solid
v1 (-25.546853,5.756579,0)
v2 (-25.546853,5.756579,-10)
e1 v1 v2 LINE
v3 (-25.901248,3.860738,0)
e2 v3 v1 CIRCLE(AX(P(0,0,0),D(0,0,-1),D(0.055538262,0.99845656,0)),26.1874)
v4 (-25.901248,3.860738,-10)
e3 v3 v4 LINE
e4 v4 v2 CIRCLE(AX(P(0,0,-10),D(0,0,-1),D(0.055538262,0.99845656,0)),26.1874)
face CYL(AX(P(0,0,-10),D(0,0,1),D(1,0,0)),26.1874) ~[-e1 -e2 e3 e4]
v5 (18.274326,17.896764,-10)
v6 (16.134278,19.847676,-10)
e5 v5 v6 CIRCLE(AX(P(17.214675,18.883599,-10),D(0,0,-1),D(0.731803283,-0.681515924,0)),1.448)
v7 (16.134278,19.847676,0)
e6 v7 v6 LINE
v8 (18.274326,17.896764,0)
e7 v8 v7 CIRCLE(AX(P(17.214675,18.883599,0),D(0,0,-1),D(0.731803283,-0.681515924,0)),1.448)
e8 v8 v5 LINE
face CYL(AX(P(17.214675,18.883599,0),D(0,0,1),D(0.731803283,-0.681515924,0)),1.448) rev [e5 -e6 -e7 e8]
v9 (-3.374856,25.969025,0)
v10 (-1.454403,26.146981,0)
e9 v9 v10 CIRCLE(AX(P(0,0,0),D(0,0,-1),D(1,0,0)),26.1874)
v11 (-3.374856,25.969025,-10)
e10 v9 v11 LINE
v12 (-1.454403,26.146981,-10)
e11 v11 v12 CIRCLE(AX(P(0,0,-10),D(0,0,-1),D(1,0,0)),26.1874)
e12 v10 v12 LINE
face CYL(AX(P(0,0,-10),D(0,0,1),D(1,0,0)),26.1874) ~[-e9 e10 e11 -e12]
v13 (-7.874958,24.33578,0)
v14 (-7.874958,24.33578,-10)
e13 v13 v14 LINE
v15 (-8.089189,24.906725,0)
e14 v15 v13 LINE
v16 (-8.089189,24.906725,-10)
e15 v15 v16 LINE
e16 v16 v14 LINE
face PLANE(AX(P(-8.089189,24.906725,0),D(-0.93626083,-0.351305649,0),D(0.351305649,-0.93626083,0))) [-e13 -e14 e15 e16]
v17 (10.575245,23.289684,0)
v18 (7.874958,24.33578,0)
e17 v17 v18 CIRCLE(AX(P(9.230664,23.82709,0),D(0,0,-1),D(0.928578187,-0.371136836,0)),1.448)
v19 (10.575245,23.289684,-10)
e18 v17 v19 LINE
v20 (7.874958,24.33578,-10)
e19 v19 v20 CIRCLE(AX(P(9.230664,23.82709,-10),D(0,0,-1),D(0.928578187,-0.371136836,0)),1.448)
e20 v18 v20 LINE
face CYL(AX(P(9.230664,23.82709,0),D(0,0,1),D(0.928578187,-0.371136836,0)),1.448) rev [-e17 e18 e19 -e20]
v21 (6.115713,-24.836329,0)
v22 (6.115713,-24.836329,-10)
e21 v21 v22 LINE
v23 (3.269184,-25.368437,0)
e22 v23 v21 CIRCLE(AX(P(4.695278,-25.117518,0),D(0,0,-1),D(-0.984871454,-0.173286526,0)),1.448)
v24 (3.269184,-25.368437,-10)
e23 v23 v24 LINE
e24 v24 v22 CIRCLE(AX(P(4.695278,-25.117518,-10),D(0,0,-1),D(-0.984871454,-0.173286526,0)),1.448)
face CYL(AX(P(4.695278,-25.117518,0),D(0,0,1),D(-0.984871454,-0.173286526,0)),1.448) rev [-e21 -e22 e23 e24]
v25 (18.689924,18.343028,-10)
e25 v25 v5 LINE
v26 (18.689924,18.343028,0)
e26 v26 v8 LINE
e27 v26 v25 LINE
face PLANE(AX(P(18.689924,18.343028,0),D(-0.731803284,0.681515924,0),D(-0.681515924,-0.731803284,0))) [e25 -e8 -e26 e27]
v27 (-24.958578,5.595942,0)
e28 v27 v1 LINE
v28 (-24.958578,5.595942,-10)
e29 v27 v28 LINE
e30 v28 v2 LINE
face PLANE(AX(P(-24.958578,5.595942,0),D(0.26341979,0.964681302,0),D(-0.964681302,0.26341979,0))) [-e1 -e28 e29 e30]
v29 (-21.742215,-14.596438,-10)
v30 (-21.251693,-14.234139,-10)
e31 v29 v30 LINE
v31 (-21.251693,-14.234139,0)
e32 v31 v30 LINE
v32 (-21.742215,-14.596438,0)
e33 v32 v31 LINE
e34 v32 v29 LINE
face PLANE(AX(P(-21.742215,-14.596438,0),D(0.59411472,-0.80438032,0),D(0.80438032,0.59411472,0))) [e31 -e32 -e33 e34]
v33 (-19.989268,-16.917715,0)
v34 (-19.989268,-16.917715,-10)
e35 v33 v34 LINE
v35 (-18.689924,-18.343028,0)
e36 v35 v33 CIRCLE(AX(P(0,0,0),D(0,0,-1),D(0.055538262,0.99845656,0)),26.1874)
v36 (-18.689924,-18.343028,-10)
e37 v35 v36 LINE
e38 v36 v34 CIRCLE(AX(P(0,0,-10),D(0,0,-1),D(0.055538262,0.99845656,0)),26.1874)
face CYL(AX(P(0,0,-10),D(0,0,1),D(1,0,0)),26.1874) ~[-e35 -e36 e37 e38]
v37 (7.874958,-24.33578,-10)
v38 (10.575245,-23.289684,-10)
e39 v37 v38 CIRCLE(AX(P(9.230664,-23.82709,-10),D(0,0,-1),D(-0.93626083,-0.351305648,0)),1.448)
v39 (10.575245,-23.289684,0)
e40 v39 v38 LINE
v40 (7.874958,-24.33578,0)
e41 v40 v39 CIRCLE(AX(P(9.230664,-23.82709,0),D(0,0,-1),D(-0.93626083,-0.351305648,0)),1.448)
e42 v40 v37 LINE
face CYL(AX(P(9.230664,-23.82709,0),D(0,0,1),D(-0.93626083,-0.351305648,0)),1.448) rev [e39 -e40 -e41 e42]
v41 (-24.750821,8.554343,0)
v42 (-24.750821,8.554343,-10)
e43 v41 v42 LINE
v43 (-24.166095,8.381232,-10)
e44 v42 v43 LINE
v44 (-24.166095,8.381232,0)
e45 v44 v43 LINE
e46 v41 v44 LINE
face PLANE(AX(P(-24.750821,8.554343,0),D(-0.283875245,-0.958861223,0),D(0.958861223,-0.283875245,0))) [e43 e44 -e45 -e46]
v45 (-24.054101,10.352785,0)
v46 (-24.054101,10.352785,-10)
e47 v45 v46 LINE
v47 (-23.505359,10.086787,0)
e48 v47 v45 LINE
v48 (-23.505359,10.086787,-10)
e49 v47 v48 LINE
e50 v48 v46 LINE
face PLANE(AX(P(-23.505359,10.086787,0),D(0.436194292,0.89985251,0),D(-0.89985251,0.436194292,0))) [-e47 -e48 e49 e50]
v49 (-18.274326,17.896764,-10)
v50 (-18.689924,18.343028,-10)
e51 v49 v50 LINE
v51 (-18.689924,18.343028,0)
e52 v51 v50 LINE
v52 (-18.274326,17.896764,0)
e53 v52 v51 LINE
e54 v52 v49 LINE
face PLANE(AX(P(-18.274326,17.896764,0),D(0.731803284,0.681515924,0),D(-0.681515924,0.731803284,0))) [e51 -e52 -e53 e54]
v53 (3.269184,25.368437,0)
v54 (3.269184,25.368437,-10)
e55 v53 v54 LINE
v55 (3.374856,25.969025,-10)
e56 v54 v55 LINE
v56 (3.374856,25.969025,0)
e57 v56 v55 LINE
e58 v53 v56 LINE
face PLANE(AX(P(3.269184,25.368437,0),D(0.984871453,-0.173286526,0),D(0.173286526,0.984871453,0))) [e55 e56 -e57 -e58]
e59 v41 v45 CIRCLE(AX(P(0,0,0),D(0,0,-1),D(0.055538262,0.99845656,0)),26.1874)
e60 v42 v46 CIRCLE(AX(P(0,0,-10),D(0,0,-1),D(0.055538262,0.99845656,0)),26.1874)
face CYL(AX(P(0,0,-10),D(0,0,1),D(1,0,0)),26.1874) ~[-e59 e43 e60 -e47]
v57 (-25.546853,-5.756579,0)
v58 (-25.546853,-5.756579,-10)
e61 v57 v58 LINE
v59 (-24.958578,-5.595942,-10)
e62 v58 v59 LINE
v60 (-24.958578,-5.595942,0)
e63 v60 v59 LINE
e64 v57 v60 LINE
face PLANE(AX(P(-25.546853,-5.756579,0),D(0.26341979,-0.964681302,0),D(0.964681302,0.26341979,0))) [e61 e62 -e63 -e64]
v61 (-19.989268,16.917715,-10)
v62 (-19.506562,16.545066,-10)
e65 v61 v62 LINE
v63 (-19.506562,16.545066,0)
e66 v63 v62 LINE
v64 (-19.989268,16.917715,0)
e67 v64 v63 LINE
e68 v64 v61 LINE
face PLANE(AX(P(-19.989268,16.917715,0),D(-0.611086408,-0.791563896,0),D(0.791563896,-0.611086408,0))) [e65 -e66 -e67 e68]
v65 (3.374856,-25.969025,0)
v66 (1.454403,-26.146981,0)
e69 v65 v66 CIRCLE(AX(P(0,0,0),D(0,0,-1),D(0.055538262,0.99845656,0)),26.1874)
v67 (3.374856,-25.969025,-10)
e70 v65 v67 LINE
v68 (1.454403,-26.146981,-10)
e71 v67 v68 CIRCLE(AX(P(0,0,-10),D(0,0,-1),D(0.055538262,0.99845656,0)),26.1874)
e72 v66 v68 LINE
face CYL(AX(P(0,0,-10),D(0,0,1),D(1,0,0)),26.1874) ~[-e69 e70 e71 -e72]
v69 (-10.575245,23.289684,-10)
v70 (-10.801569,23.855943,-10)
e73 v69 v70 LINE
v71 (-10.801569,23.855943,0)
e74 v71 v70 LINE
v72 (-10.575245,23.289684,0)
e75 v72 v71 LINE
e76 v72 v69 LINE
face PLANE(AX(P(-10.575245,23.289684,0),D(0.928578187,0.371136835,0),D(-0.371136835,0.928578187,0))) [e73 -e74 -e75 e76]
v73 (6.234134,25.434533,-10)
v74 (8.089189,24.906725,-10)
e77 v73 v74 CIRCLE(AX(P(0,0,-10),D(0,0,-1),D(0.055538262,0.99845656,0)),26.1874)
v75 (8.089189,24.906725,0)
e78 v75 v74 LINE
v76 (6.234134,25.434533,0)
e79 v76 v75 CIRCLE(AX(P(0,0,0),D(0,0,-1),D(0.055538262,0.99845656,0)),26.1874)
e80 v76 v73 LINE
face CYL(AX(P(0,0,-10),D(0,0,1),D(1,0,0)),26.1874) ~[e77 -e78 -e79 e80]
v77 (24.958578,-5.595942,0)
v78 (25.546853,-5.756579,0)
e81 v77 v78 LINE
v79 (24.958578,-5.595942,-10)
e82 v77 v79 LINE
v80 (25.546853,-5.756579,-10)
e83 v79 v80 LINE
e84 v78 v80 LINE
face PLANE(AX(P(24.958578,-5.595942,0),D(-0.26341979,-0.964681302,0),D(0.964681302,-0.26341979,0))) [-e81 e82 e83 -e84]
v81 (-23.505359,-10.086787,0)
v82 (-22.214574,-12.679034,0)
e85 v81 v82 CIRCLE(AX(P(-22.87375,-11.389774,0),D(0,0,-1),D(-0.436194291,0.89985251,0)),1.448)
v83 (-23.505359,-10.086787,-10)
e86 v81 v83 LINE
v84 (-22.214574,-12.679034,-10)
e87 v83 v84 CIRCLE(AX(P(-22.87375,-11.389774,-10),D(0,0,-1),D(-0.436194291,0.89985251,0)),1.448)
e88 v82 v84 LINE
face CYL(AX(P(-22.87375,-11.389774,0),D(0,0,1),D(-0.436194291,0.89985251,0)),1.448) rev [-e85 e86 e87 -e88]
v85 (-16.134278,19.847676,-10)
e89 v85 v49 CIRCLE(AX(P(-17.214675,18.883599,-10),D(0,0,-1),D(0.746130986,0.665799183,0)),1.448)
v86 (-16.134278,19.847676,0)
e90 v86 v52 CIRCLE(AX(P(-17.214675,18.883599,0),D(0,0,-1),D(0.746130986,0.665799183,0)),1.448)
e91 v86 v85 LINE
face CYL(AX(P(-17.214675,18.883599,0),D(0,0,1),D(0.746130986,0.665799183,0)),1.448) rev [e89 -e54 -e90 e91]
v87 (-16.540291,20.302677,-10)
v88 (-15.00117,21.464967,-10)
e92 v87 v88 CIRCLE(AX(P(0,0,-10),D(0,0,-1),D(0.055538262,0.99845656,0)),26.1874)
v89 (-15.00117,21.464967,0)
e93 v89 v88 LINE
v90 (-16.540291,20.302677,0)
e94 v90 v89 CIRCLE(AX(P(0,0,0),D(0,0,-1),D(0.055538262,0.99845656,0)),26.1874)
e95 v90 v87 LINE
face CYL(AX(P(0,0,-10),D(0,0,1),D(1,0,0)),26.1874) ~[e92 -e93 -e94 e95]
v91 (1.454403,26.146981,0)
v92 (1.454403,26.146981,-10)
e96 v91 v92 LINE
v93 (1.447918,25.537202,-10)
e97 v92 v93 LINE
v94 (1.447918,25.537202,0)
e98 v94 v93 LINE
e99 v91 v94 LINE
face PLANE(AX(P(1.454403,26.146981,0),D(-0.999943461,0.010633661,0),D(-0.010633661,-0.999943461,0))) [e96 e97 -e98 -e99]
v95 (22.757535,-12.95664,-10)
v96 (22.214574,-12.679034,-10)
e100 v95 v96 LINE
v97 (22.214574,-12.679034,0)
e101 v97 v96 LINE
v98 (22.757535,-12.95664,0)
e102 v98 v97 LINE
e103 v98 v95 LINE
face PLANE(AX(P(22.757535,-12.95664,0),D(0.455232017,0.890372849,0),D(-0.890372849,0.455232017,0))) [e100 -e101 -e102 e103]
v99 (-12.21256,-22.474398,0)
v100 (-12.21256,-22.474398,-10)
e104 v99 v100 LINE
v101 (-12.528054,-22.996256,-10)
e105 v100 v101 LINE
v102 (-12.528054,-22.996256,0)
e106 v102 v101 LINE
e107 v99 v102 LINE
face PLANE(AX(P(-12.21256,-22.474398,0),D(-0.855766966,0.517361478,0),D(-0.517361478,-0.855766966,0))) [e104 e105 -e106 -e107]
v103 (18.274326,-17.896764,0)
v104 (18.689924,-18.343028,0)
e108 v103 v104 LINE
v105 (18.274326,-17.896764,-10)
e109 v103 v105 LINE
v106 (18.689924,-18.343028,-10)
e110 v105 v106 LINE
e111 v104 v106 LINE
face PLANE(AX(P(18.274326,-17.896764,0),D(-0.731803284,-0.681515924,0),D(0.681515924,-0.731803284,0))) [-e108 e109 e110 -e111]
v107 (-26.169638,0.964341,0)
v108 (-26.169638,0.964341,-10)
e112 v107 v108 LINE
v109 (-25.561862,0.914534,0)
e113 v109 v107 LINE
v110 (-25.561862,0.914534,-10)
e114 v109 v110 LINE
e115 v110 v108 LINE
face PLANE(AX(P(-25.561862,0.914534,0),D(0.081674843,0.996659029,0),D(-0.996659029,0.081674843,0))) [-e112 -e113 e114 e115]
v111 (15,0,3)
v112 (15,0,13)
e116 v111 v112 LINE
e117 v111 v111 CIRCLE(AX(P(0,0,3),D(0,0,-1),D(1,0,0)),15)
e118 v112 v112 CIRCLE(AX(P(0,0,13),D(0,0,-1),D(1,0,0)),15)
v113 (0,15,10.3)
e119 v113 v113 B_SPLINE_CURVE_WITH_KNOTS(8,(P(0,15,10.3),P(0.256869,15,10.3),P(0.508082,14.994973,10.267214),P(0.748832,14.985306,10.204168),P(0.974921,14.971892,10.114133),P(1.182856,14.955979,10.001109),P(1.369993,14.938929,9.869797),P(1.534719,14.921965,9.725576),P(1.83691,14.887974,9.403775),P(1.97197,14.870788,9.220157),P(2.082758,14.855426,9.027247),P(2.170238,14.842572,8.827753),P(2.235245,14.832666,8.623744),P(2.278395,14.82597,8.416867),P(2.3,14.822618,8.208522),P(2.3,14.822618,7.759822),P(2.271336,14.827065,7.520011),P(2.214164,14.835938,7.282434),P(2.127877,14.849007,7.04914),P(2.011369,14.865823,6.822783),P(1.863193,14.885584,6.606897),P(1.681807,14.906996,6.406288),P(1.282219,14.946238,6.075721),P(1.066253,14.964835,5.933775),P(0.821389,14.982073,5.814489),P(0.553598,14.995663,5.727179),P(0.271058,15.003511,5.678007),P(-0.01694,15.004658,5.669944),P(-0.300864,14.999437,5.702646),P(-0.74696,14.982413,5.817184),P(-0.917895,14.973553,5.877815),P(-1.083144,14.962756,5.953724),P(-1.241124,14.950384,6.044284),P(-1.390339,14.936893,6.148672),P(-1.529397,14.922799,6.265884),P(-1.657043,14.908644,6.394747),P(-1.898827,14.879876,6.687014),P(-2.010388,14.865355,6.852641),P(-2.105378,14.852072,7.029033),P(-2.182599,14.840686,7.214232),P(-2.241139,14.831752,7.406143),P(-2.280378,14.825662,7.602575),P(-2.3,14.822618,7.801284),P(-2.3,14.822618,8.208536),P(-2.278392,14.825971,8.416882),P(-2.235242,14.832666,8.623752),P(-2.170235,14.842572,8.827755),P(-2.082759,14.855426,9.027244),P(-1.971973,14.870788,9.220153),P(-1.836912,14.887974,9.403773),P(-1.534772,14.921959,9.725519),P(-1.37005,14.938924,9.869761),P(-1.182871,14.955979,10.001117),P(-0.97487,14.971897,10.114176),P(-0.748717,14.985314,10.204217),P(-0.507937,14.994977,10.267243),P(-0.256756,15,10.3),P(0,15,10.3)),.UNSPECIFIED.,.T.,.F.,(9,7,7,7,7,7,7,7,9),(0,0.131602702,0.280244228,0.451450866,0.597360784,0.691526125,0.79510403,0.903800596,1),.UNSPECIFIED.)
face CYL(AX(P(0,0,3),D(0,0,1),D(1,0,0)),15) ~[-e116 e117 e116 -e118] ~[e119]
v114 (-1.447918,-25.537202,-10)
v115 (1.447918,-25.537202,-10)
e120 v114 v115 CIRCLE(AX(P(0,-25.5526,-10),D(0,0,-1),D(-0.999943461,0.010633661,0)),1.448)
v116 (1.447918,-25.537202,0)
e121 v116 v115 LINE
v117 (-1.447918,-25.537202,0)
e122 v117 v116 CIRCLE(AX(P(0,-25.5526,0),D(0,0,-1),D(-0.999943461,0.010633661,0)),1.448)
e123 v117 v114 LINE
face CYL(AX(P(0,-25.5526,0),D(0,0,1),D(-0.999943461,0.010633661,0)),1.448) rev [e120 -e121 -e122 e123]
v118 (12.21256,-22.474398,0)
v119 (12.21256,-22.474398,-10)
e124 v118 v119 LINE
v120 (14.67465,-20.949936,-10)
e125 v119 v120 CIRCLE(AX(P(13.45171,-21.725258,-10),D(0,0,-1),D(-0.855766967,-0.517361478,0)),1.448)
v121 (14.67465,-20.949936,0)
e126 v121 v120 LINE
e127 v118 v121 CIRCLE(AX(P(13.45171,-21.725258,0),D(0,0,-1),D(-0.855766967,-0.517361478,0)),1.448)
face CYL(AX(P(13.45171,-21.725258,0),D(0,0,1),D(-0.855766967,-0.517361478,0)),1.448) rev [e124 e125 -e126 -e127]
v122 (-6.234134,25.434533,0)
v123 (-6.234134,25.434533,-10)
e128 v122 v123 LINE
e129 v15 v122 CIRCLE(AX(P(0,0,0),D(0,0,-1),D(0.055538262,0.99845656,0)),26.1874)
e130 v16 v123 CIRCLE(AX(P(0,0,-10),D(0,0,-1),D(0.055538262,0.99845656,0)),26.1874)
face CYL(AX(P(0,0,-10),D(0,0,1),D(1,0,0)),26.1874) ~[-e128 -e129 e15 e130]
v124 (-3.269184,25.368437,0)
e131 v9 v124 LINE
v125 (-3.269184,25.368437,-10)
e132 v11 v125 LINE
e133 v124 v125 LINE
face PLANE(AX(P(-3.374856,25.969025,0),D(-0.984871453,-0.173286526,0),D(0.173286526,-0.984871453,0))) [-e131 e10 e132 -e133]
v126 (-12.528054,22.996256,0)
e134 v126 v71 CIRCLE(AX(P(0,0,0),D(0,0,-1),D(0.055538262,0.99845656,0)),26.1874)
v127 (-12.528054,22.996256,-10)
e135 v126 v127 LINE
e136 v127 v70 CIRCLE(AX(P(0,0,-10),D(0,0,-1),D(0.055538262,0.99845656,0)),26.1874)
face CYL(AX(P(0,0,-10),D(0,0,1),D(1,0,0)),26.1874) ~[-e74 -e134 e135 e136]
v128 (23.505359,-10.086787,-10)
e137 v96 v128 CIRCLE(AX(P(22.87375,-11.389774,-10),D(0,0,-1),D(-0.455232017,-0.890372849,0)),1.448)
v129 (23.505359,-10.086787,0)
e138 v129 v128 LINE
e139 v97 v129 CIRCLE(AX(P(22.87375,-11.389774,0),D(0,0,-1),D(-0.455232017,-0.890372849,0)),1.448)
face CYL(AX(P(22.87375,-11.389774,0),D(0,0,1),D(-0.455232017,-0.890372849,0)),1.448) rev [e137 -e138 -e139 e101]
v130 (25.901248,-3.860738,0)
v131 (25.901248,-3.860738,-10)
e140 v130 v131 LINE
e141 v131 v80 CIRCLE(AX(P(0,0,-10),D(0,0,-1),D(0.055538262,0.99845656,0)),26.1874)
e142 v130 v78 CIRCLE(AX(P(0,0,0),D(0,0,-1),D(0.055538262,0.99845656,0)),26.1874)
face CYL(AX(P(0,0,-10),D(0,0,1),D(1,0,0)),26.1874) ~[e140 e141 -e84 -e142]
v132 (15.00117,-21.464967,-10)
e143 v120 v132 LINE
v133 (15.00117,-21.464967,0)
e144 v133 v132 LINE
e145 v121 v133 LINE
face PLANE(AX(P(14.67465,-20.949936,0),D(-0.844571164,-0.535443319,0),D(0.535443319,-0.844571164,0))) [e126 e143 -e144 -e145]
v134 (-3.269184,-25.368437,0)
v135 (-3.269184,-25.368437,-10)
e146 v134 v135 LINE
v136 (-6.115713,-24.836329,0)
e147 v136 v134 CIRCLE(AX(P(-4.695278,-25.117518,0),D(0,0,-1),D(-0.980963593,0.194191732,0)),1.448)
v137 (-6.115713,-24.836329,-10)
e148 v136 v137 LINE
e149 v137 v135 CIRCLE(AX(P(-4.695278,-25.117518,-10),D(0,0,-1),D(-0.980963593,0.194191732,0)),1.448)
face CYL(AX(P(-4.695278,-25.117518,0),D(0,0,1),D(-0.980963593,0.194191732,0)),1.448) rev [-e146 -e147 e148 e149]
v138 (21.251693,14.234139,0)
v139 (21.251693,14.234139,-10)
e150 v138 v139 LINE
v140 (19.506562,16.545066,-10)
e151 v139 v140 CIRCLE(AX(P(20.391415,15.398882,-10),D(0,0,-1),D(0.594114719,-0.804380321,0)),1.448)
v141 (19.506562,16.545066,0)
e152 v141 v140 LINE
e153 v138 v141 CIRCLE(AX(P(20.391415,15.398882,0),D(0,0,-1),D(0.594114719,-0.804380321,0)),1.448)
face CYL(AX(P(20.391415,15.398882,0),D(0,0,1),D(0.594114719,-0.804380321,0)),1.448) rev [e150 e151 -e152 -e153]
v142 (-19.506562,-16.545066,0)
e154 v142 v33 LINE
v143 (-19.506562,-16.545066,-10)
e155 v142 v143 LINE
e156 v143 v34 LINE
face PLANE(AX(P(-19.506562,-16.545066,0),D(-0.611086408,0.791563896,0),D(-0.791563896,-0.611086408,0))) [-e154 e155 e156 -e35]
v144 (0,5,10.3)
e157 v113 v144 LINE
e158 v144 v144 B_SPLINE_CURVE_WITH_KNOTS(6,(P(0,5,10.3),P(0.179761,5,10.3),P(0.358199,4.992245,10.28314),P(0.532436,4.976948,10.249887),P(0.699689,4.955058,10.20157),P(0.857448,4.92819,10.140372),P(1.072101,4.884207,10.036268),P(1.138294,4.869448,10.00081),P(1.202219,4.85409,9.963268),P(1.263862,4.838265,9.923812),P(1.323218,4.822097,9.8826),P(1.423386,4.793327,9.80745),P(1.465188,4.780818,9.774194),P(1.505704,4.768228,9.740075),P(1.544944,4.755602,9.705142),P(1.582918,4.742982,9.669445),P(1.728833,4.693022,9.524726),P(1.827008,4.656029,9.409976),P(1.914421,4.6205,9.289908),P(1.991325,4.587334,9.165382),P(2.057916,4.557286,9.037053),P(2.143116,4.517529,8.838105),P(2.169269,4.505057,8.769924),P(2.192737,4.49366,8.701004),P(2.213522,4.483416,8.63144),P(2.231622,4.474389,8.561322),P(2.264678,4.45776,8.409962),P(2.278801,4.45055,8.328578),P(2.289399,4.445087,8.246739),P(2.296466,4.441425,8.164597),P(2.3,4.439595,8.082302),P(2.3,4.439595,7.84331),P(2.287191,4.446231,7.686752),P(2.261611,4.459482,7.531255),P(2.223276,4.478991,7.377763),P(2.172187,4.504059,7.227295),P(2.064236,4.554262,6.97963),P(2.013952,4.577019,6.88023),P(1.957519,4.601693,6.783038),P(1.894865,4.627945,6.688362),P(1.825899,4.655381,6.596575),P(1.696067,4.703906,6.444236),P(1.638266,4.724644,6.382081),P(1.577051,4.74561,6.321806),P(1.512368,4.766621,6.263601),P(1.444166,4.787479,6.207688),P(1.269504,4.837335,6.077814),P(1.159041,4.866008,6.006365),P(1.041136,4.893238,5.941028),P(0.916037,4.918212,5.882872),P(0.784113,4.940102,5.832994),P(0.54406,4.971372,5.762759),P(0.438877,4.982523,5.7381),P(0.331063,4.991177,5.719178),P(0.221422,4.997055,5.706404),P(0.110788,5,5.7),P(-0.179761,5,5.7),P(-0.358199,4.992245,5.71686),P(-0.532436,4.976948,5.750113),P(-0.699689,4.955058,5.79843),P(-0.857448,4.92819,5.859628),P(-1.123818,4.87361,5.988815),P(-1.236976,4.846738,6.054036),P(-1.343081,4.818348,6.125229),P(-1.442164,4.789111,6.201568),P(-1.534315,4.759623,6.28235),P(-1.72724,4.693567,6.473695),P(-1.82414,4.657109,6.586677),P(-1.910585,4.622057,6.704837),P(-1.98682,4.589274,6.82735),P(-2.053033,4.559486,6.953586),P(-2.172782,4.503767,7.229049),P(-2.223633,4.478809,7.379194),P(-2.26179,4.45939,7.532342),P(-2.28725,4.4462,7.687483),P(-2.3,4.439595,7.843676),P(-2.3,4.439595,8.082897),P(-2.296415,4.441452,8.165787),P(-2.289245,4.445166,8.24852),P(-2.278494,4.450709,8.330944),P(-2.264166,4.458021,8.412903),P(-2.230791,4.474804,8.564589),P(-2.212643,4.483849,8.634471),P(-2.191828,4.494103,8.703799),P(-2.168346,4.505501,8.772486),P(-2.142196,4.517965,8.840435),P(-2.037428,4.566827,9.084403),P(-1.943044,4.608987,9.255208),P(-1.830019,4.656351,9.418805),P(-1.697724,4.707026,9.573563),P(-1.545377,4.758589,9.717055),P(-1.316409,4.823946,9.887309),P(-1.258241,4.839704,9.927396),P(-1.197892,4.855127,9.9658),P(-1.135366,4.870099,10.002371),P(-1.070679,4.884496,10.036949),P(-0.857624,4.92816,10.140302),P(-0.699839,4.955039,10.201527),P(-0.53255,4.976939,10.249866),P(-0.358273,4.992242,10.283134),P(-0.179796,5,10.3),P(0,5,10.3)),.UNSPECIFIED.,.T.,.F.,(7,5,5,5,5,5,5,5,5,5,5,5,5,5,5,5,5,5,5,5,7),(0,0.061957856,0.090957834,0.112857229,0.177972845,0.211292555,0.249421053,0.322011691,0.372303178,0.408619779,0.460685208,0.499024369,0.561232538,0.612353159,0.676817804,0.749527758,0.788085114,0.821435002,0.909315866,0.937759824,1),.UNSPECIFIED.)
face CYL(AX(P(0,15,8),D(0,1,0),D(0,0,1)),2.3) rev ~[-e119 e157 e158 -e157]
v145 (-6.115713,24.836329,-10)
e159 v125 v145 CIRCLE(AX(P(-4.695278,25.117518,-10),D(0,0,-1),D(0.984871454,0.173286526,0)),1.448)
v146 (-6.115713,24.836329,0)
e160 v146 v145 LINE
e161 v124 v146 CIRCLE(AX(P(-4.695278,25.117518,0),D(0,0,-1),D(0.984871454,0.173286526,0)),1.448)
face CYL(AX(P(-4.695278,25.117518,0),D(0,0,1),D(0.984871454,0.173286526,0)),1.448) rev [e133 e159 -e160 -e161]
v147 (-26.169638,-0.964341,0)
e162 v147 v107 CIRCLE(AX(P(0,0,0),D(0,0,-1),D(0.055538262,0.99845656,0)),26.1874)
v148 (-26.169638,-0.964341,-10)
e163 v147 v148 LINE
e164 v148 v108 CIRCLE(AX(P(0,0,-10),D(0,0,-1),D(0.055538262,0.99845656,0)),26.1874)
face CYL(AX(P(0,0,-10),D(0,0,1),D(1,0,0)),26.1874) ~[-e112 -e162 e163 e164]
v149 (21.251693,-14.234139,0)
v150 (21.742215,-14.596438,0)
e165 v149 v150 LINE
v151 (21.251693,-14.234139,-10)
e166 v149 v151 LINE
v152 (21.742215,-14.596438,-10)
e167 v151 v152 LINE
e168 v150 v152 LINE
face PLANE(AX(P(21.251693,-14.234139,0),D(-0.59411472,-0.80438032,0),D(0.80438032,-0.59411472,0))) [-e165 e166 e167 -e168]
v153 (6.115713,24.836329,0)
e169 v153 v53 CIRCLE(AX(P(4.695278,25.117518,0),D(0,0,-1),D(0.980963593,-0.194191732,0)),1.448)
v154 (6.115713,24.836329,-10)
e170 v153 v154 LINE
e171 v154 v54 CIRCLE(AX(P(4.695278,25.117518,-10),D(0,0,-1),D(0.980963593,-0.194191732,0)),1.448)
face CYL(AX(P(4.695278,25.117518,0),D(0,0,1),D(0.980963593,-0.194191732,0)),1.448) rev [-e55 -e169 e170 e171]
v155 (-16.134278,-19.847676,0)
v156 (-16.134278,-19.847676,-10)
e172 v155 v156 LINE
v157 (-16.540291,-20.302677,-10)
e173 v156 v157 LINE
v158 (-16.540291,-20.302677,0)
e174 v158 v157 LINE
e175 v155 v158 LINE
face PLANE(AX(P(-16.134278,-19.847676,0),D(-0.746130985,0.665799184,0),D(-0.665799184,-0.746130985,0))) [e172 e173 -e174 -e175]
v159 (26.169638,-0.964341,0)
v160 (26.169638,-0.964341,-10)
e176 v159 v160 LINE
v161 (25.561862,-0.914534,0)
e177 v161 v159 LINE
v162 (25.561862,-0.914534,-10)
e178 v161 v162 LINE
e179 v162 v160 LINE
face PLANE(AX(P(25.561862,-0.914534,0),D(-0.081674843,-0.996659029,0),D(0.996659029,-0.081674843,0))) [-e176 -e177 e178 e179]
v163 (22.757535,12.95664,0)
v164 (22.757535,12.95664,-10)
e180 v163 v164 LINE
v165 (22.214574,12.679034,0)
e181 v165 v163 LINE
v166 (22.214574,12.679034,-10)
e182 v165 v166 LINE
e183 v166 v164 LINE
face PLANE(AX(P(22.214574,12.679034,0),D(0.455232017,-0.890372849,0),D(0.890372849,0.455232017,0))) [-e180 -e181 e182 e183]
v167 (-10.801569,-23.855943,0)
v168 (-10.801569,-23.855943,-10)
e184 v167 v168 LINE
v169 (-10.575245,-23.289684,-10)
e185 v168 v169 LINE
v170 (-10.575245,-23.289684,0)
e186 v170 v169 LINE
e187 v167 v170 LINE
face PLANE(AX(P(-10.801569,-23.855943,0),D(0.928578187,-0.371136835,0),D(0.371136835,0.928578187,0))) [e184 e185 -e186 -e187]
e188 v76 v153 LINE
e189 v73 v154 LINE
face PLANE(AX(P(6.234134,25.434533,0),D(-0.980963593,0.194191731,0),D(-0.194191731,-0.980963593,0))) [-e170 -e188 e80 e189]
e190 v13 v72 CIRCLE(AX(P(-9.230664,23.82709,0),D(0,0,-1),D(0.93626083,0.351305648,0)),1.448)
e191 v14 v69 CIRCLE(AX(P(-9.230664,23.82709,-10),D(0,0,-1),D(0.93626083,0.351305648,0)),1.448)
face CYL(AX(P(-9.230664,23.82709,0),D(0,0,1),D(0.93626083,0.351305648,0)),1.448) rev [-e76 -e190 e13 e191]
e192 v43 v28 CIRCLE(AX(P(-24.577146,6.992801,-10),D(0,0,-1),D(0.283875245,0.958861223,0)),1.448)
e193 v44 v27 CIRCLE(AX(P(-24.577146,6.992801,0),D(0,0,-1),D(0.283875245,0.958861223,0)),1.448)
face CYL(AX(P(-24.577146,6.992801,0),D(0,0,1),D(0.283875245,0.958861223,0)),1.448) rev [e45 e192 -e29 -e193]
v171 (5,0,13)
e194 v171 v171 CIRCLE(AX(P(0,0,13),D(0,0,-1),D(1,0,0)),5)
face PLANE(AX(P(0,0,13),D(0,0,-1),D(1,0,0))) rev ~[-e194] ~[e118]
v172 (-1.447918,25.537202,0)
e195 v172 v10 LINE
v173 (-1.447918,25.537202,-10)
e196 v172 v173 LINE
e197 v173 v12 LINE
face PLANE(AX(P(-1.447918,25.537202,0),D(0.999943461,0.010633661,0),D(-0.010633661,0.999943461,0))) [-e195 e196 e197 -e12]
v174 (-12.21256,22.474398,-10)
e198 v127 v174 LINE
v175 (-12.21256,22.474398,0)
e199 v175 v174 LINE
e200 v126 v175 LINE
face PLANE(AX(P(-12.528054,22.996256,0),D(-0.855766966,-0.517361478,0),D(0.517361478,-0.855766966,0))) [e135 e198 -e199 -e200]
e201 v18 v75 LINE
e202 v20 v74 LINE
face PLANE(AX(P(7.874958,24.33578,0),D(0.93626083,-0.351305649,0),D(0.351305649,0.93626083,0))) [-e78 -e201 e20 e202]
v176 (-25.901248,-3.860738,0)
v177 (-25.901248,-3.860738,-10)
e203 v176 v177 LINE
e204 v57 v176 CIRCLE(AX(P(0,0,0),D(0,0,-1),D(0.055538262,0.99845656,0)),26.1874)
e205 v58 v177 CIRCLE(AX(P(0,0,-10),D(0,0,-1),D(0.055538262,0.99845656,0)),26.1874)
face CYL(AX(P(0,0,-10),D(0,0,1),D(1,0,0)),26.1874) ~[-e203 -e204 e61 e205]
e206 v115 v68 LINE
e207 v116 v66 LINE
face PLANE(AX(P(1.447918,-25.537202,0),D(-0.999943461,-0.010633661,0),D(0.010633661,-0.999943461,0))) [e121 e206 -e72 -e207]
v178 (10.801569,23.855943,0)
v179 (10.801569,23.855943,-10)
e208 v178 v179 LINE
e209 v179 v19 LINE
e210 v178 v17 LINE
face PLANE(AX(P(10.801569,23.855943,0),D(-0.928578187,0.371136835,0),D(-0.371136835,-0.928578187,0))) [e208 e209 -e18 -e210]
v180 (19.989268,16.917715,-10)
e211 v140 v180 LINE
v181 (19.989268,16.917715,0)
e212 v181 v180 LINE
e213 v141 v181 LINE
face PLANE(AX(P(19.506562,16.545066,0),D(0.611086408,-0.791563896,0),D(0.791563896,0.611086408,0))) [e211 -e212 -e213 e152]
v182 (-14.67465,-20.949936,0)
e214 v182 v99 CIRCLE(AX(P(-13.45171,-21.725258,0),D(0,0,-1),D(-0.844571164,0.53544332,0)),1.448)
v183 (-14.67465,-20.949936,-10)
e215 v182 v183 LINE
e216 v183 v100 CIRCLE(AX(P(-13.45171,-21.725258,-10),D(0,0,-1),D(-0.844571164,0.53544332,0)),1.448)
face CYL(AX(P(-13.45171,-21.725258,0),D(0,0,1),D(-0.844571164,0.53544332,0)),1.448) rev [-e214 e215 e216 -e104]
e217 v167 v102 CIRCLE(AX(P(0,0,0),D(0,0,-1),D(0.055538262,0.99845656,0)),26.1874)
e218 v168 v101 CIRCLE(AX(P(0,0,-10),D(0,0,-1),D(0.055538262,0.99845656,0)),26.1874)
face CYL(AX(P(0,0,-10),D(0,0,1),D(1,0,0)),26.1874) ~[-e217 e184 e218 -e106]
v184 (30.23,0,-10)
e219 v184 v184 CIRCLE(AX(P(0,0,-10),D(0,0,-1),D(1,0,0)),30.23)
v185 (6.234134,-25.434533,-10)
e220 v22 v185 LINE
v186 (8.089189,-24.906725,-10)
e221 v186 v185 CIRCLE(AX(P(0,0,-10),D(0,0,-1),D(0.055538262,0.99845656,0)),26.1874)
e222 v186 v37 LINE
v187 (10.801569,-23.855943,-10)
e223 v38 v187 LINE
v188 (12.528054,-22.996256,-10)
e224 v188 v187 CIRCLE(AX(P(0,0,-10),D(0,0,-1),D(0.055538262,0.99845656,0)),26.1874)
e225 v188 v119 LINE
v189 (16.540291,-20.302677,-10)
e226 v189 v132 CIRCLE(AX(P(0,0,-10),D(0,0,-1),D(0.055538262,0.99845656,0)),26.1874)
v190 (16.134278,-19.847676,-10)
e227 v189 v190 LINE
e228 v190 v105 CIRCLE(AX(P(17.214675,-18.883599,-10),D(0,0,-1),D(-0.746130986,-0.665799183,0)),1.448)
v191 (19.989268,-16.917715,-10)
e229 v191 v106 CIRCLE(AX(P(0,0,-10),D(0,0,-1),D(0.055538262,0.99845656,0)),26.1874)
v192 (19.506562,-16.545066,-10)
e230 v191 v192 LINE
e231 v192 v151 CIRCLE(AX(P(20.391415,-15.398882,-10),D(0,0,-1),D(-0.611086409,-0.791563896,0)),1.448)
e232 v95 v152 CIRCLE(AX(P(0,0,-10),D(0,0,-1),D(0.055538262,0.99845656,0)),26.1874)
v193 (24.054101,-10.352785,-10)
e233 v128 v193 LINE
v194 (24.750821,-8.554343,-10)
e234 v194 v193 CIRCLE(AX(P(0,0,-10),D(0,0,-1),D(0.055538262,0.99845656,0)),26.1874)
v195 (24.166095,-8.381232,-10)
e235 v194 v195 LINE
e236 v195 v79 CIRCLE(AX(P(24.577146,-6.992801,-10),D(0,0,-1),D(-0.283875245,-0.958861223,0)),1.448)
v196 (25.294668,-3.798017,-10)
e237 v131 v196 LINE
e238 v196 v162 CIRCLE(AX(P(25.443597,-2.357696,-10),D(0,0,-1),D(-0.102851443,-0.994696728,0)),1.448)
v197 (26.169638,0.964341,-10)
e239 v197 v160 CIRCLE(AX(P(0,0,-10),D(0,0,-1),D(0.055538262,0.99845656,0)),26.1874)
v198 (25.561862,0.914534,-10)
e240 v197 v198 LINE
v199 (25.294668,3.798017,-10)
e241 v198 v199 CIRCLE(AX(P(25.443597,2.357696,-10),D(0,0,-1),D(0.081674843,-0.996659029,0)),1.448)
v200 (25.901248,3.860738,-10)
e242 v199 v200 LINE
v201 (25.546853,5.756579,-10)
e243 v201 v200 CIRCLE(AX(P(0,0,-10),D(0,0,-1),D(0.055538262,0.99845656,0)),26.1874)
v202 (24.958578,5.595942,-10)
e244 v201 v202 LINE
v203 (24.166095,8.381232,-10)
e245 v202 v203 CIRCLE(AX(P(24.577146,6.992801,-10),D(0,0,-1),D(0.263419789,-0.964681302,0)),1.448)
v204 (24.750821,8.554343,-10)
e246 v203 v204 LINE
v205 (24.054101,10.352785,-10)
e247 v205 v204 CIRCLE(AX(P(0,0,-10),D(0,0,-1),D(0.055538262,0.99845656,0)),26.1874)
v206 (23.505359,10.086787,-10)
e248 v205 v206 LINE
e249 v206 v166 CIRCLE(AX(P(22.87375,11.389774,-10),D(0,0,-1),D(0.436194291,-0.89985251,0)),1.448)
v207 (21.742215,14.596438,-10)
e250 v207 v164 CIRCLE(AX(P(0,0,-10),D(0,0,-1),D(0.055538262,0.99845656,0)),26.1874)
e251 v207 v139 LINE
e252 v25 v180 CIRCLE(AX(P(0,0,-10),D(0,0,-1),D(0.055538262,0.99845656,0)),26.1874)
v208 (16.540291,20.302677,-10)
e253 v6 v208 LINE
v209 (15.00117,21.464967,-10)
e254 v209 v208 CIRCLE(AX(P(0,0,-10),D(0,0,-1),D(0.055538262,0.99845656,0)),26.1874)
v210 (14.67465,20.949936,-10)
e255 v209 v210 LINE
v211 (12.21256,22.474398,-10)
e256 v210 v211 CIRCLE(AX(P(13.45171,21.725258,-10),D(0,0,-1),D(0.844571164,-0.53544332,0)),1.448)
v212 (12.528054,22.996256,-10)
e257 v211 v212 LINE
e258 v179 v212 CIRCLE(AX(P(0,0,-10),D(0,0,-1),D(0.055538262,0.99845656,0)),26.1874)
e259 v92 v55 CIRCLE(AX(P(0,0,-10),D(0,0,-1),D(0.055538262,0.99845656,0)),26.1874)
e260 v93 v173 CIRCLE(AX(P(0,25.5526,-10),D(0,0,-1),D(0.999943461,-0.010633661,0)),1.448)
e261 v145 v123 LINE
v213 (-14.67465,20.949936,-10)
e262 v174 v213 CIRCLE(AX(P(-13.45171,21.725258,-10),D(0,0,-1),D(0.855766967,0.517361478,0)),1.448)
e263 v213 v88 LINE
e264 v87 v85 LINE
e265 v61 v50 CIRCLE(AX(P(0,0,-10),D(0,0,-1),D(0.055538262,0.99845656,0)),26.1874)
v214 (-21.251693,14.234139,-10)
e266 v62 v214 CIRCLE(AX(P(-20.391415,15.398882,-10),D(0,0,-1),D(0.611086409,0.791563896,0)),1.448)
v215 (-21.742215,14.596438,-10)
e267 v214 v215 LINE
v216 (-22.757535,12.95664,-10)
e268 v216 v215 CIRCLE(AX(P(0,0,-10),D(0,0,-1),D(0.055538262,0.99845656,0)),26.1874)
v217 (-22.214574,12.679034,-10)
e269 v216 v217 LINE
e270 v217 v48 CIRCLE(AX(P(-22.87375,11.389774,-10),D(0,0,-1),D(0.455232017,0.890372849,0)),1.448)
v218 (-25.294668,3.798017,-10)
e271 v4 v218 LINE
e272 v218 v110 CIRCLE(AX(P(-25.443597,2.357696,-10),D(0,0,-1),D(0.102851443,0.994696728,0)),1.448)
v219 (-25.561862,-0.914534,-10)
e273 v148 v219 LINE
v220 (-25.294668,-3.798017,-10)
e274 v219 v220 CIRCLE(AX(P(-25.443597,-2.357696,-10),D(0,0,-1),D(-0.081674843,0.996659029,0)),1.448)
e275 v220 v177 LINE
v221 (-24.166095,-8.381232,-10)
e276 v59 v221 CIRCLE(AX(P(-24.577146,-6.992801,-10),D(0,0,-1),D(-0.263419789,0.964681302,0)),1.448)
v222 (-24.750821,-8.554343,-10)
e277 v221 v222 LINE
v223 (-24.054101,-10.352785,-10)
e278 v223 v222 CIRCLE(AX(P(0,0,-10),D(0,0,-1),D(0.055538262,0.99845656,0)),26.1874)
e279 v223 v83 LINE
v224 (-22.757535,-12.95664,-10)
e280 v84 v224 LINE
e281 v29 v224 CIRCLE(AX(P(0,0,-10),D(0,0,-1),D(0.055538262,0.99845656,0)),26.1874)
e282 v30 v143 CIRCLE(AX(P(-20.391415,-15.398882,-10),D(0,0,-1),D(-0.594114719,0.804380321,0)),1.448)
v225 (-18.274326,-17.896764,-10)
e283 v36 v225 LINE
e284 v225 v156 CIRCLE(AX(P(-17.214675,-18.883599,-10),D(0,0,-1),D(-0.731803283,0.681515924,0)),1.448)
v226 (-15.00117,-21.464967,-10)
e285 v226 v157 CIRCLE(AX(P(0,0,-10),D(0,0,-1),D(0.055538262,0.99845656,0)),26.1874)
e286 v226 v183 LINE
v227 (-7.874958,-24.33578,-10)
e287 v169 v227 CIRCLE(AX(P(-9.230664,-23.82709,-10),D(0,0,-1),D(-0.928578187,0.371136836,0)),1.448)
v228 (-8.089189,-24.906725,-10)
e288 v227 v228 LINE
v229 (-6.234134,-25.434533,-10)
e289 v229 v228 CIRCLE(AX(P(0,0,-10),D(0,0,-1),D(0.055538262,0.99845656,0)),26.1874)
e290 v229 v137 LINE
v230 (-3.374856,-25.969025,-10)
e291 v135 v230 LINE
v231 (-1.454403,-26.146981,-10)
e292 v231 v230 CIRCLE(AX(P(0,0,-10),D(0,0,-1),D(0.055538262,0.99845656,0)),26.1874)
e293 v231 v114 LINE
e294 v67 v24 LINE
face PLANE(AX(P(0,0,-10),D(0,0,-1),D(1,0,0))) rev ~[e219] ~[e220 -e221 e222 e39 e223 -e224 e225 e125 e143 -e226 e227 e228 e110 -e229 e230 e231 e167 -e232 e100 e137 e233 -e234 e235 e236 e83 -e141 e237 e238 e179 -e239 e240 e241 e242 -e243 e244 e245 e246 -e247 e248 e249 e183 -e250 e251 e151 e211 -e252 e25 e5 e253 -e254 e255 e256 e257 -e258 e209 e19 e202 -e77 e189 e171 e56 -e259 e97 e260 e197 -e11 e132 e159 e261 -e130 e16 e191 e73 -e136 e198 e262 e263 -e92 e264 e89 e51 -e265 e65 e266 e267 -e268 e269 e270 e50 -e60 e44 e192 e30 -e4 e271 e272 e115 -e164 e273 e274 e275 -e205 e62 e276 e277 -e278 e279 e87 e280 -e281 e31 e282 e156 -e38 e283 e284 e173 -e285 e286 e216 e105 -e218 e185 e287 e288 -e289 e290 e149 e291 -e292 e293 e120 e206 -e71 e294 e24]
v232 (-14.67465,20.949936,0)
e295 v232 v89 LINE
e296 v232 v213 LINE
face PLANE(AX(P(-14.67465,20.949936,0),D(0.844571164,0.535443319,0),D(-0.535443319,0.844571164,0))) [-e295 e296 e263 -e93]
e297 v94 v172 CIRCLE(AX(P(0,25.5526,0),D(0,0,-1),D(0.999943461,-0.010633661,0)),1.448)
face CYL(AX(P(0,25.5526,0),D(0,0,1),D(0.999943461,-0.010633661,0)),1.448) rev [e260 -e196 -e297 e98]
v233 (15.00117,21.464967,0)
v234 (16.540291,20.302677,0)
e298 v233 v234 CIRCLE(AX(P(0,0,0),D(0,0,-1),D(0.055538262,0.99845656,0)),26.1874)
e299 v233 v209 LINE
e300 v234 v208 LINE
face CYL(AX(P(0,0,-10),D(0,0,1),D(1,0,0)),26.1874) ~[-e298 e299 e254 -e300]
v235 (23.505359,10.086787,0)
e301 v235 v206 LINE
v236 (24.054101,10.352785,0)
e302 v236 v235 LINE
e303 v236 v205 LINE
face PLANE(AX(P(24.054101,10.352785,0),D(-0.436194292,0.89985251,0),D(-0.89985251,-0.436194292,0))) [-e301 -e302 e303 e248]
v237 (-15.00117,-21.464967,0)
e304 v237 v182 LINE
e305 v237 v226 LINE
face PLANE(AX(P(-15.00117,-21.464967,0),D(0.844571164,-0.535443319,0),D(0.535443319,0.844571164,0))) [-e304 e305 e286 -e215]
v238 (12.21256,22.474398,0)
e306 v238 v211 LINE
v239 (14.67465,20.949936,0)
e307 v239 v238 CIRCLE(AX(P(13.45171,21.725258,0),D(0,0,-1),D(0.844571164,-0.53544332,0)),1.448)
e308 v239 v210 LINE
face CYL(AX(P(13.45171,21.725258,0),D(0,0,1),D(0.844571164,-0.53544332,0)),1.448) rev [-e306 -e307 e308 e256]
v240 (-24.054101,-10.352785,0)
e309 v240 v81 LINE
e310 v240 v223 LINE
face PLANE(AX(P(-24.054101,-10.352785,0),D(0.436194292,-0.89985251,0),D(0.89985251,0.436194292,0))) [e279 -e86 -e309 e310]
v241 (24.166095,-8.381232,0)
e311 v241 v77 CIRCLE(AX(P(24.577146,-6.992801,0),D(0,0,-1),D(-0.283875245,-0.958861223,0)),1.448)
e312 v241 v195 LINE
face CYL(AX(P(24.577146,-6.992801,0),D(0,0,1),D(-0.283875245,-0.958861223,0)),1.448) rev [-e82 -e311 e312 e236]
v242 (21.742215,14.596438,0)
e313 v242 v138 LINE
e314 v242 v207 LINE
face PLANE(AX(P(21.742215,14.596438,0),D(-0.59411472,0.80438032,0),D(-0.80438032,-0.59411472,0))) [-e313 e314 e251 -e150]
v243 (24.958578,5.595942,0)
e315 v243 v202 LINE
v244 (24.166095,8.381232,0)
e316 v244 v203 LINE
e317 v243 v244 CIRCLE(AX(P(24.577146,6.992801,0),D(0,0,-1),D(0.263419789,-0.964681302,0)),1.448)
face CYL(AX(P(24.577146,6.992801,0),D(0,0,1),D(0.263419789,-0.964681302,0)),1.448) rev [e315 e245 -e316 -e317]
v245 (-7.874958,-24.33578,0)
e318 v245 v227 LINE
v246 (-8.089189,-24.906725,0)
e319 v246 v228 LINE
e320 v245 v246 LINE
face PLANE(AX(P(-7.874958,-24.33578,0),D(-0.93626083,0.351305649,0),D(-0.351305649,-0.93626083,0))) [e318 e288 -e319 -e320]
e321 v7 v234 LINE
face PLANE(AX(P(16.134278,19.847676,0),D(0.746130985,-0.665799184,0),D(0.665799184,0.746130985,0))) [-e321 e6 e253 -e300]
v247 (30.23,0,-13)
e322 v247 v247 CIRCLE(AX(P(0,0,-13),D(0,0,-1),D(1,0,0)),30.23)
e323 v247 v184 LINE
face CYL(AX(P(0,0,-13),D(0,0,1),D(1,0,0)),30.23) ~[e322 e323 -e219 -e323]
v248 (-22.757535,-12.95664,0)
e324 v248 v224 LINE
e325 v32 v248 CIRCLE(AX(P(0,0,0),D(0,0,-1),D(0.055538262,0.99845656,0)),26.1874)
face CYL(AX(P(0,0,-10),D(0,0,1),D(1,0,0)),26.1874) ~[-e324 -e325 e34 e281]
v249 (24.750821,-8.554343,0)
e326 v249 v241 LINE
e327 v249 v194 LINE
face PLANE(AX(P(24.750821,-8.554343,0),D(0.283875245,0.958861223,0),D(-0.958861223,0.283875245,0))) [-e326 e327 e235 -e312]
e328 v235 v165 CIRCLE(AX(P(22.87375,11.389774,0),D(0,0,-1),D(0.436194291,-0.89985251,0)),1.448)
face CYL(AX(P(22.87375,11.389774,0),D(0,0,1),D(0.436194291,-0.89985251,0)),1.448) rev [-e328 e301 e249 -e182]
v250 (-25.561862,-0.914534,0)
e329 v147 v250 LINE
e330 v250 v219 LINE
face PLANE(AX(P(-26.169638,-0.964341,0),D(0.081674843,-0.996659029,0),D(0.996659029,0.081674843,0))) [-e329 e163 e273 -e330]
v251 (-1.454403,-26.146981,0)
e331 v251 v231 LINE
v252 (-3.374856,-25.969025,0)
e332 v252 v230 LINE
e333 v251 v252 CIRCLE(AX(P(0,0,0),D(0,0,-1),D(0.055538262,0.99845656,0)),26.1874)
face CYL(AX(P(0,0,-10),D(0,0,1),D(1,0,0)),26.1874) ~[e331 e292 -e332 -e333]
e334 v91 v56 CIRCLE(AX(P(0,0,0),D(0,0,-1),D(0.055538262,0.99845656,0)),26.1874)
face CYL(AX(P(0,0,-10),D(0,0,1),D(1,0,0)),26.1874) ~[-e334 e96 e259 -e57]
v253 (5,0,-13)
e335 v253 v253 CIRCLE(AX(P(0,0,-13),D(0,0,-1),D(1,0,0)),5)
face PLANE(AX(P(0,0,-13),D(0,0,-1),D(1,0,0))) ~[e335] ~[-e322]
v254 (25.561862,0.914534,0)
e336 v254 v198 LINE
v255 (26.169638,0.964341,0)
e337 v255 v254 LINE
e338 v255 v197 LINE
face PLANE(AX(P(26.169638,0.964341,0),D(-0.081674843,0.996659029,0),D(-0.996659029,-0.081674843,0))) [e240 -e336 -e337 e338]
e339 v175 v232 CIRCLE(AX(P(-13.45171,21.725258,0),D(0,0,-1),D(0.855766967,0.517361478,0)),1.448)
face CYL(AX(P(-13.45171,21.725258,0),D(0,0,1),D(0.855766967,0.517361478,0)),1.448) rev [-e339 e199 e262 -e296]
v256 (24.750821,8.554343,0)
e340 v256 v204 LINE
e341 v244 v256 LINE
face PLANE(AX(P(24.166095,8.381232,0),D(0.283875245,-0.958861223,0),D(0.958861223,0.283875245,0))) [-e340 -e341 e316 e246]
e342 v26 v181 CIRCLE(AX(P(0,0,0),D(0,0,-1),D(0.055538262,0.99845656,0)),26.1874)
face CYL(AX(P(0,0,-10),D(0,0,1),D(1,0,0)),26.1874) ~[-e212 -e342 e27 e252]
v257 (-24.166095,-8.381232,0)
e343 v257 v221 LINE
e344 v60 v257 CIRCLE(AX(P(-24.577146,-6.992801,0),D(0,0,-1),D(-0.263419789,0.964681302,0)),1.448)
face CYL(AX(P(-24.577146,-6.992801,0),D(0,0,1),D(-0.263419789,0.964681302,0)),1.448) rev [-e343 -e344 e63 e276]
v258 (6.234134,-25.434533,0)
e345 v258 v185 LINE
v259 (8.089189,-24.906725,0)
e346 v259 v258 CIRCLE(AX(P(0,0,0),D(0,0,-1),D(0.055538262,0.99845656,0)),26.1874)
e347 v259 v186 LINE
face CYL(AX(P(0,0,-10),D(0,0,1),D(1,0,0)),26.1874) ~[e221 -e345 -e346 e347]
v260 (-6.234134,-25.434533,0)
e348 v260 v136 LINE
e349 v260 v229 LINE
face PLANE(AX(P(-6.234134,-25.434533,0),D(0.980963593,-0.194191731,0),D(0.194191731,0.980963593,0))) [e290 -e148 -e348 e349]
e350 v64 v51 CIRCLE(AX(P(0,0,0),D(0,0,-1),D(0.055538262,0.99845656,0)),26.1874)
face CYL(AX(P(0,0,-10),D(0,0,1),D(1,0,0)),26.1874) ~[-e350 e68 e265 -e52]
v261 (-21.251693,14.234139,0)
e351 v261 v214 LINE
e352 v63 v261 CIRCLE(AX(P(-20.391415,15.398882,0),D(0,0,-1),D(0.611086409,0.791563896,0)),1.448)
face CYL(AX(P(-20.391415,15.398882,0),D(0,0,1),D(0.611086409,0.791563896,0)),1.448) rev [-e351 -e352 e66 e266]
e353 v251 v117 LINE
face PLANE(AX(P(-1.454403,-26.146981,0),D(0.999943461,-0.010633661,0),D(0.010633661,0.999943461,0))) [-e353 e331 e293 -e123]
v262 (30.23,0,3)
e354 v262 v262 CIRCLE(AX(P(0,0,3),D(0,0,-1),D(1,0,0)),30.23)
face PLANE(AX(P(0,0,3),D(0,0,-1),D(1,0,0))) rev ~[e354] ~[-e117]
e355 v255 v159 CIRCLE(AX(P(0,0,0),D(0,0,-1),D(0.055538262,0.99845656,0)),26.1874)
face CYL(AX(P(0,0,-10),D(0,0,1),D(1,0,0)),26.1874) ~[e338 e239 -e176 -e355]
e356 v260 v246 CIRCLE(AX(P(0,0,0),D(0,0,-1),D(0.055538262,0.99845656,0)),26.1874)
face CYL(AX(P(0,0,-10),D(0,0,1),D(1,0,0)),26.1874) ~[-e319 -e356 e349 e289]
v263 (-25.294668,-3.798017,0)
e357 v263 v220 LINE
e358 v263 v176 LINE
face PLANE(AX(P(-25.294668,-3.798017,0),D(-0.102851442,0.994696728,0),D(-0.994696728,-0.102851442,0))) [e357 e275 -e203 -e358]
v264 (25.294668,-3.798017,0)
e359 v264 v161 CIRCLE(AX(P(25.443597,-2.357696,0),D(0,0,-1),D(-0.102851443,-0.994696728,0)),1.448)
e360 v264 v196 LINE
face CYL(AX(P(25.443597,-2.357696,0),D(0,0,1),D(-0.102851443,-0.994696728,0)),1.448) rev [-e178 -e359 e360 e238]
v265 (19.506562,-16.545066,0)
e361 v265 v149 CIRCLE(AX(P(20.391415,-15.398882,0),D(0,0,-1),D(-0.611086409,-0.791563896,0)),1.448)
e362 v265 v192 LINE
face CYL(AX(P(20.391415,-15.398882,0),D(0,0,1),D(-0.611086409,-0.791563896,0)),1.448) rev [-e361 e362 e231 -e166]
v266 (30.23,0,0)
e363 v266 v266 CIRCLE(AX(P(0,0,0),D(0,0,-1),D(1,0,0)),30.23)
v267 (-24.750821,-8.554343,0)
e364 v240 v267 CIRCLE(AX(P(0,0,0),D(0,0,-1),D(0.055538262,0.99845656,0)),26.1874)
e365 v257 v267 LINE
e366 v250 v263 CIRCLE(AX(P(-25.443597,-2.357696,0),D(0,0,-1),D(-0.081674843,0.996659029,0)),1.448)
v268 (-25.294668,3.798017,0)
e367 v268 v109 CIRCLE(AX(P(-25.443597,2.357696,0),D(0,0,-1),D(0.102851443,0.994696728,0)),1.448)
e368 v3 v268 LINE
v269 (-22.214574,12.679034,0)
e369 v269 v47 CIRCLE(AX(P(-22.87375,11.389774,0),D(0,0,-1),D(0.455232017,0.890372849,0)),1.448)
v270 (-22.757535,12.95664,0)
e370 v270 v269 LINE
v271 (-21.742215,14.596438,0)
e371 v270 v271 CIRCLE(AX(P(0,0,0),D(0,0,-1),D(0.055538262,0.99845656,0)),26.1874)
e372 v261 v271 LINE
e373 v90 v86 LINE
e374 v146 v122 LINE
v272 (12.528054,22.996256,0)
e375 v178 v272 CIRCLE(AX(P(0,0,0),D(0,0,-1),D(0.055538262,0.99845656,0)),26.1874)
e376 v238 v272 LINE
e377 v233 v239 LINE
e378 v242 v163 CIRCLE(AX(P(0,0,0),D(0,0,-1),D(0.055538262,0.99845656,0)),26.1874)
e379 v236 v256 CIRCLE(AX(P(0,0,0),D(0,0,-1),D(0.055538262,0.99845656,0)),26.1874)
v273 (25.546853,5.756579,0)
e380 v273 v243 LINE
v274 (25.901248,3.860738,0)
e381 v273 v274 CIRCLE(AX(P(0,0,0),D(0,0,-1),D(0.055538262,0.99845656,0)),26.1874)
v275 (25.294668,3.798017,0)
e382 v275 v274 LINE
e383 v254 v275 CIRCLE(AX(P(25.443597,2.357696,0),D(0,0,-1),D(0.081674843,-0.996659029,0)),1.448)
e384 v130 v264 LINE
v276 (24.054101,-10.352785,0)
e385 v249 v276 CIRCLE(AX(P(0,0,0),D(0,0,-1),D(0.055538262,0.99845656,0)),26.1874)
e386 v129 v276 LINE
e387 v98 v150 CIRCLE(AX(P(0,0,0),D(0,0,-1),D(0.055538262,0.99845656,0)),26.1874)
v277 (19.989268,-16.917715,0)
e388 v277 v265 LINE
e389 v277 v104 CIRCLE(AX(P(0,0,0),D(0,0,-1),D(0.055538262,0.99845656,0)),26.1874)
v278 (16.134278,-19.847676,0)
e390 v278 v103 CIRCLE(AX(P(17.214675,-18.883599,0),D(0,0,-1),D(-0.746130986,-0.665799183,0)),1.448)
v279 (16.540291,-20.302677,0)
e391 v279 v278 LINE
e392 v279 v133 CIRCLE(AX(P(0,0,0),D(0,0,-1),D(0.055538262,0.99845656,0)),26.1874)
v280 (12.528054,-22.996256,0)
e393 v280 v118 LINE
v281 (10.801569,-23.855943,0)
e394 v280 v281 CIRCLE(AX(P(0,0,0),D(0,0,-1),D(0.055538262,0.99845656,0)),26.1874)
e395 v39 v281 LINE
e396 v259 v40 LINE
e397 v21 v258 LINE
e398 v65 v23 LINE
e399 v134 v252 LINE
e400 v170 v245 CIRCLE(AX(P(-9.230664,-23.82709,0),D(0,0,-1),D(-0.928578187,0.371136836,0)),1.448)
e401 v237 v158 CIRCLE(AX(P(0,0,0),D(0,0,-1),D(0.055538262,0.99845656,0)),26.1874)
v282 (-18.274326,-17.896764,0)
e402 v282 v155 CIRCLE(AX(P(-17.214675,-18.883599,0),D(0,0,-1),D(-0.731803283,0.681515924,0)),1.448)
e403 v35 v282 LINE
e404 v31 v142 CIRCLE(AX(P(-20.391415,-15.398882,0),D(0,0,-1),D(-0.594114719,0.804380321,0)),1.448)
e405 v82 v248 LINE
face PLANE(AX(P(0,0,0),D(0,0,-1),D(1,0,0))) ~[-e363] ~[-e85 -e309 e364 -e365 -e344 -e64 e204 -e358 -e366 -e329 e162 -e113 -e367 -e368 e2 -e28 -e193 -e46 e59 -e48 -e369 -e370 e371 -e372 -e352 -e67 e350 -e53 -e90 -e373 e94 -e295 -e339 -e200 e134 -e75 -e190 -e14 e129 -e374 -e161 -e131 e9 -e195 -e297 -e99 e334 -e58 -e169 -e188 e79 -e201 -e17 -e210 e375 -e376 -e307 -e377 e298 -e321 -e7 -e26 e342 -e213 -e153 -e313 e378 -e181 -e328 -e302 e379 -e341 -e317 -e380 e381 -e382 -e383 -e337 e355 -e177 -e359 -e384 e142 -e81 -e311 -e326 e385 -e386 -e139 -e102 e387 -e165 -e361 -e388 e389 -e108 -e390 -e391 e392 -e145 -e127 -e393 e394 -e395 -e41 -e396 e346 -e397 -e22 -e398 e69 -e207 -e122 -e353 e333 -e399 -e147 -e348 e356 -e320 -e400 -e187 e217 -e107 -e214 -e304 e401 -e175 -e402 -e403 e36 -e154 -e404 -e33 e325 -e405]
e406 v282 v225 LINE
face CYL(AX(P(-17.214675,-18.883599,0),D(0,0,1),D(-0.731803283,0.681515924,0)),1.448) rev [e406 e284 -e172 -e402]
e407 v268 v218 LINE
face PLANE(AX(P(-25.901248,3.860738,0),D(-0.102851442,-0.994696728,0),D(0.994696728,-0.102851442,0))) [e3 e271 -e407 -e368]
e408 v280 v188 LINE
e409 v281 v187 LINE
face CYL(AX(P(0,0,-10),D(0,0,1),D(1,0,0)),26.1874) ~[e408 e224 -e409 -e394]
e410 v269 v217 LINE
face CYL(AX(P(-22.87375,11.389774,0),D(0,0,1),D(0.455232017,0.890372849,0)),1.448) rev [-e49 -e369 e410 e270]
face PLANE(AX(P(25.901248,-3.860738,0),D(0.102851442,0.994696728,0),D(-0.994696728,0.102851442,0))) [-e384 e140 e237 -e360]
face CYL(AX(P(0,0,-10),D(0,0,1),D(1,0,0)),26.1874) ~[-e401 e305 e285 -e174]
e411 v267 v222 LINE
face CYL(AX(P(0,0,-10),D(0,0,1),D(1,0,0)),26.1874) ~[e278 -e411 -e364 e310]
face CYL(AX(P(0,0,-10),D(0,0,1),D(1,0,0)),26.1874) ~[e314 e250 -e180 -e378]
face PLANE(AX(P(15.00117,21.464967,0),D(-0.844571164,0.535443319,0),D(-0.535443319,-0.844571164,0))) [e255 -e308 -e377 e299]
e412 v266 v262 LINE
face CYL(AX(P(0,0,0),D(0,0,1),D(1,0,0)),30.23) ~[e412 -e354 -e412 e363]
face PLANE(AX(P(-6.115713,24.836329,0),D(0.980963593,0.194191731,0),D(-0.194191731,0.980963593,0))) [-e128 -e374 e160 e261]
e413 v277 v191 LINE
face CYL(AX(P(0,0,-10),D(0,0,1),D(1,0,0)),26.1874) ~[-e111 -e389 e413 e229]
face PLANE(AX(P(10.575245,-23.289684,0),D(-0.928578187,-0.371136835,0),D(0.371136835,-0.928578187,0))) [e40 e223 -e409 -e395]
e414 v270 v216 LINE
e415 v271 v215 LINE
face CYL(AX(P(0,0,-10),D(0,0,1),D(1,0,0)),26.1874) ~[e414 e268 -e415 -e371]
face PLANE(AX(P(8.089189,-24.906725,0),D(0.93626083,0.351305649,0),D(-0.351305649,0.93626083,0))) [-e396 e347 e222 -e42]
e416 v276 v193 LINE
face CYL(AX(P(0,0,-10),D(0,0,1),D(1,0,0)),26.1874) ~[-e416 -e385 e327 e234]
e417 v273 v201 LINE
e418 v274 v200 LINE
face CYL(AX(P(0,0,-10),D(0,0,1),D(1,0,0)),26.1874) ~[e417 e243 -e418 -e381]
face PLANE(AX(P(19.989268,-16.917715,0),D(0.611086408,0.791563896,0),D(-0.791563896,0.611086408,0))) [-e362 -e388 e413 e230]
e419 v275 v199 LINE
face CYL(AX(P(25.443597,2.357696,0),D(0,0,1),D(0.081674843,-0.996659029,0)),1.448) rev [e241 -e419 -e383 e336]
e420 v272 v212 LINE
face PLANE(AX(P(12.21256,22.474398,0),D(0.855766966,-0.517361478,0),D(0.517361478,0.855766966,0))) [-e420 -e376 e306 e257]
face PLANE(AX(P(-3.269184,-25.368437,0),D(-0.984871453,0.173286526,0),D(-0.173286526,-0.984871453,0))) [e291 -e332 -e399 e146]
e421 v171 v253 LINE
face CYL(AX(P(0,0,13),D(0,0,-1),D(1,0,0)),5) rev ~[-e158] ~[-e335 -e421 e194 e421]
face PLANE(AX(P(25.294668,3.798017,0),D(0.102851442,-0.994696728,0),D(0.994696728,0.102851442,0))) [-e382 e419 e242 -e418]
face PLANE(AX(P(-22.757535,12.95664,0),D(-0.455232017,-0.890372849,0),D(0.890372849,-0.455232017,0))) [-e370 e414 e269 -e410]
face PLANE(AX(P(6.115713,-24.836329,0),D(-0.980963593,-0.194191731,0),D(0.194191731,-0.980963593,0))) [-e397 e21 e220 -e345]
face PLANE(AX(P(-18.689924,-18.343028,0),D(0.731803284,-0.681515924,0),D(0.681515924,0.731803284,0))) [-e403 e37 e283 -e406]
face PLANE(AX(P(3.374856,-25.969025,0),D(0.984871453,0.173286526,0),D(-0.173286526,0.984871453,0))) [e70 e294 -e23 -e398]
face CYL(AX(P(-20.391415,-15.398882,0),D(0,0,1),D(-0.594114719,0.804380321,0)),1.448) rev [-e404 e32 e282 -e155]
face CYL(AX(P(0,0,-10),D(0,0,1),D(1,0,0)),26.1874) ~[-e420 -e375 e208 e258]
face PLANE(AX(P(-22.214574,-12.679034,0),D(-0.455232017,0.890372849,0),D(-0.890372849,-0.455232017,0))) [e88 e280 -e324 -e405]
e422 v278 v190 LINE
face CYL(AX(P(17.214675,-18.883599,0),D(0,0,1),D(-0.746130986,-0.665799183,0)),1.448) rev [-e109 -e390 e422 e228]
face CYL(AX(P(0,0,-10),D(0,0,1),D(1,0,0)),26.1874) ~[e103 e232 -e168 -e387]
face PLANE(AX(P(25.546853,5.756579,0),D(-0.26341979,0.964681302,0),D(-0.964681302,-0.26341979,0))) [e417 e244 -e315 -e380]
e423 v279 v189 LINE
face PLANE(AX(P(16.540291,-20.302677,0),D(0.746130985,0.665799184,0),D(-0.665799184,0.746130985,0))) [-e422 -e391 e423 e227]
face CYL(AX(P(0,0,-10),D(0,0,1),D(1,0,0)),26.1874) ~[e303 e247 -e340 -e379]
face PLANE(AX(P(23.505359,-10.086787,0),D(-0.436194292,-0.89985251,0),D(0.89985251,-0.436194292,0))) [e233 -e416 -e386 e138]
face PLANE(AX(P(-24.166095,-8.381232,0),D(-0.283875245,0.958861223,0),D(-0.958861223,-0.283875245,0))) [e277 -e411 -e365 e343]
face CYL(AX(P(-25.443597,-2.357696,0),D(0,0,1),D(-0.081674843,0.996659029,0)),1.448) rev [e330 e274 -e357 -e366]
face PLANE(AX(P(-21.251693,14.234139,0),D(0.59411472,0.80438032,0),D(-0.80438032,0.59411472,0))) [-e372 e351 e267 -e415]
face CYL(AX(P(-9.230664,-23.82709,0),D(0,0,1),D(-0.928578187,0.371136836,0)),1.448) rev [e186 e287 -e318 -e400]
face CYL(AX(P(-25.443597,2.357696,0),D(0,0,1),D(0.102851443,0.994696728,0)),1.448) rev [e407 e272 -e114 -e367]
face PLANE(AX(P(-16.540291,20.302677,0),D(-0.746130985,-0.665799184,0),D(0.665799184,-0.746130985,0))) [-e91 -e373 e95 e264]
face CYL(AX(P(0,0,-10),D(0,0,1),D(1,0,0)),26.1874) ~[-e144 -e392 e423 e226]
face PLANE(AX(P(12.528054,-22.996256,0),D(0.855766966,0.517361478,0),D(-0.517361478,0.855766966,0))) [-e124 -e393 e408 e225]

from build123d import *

# Parameters (mm, degrees)
CUT_EXTRUDE1_DEPTH = 10
CIRPATTERN1_COUNT  = 34
SKETCH4_R          = 2.3
CUT_EXTRUDE2_DEPTH = 13


with BuildPart() as part:
    # Sketch2 → Revolve1 (revolve)
    with BuildSketch(Plane(origin=(0, 0, 0), x_dir=(0, 0, -1), z_dir=(1, 0, 0)), mode=Mode.PRIVATE) as revolve1_sk:
        Polygon((-13, 5), (13, 5), (13, 30.23), (10, 30.23), (10, 26.1874), (0, 26.1874), (0, 28.2087), (0, 30.23), (-1.5, 30.23), (-3, 30.23), (-3, 15), (-13, 15), align=None)
    revolve(revolve1_sk.sketch.rotate(Axis((0, 0, 13), (0, 0, -1)), 90), axis=Axis((0, 0, 13), (0, 0, -1)))

    # Sketch3 → Cut-Extrude1 (cut)
    with BuildSketch(Plane.XY):
        with BuildLine():
            Line((-1.447918132, 25.537202459), (-1.45440268, 26.14698131))
            ThreePointArc((-1.45440268, 26.14698131), (0, 26.1874), (1.45440268, 26.14698131))
            Line((1.45440268, 26.14698131), (1.447918132, 25.537202459))
            ThreePointArc((1.447918132, 25.537202459), (0, 24.1046), (-1.447918132, 25.537202459))
        make_face()
    cut_extrude1 = extrude(amount=-CUT_EXTRUDE1_DEPTH, mode=Mode.SUBTRACT)

    # CirPattern1: Cut-Extrude1 ×34 about axis
    cirpattern1_axis = Axis((0, 0, 0), (0, 0, 1))
    for i in range(1, CIRPATTERN1_COUNT):
        add(cut_extrude1.rotate(cirpattern1_axis, i * 360 / CIRPATTERN1_COUNT), mode=Mode.SUBTRACT)

    # Sketch4 → Cut-Extrude2 (cut)
    with BuildSketch(Plane(origin=(0, 15, 0), x_dir=(1, 0, 0), z_dir=(0, 1, 0))):
        with Locations(Location((0, -8, 0), (0, 0, 270))):
            Circle(SKETCH4_R)
    extrude(amount=-CUT_EXTRUDE2_DEPTH, mode=Mode.SUBTRACT)


solid = part.part
